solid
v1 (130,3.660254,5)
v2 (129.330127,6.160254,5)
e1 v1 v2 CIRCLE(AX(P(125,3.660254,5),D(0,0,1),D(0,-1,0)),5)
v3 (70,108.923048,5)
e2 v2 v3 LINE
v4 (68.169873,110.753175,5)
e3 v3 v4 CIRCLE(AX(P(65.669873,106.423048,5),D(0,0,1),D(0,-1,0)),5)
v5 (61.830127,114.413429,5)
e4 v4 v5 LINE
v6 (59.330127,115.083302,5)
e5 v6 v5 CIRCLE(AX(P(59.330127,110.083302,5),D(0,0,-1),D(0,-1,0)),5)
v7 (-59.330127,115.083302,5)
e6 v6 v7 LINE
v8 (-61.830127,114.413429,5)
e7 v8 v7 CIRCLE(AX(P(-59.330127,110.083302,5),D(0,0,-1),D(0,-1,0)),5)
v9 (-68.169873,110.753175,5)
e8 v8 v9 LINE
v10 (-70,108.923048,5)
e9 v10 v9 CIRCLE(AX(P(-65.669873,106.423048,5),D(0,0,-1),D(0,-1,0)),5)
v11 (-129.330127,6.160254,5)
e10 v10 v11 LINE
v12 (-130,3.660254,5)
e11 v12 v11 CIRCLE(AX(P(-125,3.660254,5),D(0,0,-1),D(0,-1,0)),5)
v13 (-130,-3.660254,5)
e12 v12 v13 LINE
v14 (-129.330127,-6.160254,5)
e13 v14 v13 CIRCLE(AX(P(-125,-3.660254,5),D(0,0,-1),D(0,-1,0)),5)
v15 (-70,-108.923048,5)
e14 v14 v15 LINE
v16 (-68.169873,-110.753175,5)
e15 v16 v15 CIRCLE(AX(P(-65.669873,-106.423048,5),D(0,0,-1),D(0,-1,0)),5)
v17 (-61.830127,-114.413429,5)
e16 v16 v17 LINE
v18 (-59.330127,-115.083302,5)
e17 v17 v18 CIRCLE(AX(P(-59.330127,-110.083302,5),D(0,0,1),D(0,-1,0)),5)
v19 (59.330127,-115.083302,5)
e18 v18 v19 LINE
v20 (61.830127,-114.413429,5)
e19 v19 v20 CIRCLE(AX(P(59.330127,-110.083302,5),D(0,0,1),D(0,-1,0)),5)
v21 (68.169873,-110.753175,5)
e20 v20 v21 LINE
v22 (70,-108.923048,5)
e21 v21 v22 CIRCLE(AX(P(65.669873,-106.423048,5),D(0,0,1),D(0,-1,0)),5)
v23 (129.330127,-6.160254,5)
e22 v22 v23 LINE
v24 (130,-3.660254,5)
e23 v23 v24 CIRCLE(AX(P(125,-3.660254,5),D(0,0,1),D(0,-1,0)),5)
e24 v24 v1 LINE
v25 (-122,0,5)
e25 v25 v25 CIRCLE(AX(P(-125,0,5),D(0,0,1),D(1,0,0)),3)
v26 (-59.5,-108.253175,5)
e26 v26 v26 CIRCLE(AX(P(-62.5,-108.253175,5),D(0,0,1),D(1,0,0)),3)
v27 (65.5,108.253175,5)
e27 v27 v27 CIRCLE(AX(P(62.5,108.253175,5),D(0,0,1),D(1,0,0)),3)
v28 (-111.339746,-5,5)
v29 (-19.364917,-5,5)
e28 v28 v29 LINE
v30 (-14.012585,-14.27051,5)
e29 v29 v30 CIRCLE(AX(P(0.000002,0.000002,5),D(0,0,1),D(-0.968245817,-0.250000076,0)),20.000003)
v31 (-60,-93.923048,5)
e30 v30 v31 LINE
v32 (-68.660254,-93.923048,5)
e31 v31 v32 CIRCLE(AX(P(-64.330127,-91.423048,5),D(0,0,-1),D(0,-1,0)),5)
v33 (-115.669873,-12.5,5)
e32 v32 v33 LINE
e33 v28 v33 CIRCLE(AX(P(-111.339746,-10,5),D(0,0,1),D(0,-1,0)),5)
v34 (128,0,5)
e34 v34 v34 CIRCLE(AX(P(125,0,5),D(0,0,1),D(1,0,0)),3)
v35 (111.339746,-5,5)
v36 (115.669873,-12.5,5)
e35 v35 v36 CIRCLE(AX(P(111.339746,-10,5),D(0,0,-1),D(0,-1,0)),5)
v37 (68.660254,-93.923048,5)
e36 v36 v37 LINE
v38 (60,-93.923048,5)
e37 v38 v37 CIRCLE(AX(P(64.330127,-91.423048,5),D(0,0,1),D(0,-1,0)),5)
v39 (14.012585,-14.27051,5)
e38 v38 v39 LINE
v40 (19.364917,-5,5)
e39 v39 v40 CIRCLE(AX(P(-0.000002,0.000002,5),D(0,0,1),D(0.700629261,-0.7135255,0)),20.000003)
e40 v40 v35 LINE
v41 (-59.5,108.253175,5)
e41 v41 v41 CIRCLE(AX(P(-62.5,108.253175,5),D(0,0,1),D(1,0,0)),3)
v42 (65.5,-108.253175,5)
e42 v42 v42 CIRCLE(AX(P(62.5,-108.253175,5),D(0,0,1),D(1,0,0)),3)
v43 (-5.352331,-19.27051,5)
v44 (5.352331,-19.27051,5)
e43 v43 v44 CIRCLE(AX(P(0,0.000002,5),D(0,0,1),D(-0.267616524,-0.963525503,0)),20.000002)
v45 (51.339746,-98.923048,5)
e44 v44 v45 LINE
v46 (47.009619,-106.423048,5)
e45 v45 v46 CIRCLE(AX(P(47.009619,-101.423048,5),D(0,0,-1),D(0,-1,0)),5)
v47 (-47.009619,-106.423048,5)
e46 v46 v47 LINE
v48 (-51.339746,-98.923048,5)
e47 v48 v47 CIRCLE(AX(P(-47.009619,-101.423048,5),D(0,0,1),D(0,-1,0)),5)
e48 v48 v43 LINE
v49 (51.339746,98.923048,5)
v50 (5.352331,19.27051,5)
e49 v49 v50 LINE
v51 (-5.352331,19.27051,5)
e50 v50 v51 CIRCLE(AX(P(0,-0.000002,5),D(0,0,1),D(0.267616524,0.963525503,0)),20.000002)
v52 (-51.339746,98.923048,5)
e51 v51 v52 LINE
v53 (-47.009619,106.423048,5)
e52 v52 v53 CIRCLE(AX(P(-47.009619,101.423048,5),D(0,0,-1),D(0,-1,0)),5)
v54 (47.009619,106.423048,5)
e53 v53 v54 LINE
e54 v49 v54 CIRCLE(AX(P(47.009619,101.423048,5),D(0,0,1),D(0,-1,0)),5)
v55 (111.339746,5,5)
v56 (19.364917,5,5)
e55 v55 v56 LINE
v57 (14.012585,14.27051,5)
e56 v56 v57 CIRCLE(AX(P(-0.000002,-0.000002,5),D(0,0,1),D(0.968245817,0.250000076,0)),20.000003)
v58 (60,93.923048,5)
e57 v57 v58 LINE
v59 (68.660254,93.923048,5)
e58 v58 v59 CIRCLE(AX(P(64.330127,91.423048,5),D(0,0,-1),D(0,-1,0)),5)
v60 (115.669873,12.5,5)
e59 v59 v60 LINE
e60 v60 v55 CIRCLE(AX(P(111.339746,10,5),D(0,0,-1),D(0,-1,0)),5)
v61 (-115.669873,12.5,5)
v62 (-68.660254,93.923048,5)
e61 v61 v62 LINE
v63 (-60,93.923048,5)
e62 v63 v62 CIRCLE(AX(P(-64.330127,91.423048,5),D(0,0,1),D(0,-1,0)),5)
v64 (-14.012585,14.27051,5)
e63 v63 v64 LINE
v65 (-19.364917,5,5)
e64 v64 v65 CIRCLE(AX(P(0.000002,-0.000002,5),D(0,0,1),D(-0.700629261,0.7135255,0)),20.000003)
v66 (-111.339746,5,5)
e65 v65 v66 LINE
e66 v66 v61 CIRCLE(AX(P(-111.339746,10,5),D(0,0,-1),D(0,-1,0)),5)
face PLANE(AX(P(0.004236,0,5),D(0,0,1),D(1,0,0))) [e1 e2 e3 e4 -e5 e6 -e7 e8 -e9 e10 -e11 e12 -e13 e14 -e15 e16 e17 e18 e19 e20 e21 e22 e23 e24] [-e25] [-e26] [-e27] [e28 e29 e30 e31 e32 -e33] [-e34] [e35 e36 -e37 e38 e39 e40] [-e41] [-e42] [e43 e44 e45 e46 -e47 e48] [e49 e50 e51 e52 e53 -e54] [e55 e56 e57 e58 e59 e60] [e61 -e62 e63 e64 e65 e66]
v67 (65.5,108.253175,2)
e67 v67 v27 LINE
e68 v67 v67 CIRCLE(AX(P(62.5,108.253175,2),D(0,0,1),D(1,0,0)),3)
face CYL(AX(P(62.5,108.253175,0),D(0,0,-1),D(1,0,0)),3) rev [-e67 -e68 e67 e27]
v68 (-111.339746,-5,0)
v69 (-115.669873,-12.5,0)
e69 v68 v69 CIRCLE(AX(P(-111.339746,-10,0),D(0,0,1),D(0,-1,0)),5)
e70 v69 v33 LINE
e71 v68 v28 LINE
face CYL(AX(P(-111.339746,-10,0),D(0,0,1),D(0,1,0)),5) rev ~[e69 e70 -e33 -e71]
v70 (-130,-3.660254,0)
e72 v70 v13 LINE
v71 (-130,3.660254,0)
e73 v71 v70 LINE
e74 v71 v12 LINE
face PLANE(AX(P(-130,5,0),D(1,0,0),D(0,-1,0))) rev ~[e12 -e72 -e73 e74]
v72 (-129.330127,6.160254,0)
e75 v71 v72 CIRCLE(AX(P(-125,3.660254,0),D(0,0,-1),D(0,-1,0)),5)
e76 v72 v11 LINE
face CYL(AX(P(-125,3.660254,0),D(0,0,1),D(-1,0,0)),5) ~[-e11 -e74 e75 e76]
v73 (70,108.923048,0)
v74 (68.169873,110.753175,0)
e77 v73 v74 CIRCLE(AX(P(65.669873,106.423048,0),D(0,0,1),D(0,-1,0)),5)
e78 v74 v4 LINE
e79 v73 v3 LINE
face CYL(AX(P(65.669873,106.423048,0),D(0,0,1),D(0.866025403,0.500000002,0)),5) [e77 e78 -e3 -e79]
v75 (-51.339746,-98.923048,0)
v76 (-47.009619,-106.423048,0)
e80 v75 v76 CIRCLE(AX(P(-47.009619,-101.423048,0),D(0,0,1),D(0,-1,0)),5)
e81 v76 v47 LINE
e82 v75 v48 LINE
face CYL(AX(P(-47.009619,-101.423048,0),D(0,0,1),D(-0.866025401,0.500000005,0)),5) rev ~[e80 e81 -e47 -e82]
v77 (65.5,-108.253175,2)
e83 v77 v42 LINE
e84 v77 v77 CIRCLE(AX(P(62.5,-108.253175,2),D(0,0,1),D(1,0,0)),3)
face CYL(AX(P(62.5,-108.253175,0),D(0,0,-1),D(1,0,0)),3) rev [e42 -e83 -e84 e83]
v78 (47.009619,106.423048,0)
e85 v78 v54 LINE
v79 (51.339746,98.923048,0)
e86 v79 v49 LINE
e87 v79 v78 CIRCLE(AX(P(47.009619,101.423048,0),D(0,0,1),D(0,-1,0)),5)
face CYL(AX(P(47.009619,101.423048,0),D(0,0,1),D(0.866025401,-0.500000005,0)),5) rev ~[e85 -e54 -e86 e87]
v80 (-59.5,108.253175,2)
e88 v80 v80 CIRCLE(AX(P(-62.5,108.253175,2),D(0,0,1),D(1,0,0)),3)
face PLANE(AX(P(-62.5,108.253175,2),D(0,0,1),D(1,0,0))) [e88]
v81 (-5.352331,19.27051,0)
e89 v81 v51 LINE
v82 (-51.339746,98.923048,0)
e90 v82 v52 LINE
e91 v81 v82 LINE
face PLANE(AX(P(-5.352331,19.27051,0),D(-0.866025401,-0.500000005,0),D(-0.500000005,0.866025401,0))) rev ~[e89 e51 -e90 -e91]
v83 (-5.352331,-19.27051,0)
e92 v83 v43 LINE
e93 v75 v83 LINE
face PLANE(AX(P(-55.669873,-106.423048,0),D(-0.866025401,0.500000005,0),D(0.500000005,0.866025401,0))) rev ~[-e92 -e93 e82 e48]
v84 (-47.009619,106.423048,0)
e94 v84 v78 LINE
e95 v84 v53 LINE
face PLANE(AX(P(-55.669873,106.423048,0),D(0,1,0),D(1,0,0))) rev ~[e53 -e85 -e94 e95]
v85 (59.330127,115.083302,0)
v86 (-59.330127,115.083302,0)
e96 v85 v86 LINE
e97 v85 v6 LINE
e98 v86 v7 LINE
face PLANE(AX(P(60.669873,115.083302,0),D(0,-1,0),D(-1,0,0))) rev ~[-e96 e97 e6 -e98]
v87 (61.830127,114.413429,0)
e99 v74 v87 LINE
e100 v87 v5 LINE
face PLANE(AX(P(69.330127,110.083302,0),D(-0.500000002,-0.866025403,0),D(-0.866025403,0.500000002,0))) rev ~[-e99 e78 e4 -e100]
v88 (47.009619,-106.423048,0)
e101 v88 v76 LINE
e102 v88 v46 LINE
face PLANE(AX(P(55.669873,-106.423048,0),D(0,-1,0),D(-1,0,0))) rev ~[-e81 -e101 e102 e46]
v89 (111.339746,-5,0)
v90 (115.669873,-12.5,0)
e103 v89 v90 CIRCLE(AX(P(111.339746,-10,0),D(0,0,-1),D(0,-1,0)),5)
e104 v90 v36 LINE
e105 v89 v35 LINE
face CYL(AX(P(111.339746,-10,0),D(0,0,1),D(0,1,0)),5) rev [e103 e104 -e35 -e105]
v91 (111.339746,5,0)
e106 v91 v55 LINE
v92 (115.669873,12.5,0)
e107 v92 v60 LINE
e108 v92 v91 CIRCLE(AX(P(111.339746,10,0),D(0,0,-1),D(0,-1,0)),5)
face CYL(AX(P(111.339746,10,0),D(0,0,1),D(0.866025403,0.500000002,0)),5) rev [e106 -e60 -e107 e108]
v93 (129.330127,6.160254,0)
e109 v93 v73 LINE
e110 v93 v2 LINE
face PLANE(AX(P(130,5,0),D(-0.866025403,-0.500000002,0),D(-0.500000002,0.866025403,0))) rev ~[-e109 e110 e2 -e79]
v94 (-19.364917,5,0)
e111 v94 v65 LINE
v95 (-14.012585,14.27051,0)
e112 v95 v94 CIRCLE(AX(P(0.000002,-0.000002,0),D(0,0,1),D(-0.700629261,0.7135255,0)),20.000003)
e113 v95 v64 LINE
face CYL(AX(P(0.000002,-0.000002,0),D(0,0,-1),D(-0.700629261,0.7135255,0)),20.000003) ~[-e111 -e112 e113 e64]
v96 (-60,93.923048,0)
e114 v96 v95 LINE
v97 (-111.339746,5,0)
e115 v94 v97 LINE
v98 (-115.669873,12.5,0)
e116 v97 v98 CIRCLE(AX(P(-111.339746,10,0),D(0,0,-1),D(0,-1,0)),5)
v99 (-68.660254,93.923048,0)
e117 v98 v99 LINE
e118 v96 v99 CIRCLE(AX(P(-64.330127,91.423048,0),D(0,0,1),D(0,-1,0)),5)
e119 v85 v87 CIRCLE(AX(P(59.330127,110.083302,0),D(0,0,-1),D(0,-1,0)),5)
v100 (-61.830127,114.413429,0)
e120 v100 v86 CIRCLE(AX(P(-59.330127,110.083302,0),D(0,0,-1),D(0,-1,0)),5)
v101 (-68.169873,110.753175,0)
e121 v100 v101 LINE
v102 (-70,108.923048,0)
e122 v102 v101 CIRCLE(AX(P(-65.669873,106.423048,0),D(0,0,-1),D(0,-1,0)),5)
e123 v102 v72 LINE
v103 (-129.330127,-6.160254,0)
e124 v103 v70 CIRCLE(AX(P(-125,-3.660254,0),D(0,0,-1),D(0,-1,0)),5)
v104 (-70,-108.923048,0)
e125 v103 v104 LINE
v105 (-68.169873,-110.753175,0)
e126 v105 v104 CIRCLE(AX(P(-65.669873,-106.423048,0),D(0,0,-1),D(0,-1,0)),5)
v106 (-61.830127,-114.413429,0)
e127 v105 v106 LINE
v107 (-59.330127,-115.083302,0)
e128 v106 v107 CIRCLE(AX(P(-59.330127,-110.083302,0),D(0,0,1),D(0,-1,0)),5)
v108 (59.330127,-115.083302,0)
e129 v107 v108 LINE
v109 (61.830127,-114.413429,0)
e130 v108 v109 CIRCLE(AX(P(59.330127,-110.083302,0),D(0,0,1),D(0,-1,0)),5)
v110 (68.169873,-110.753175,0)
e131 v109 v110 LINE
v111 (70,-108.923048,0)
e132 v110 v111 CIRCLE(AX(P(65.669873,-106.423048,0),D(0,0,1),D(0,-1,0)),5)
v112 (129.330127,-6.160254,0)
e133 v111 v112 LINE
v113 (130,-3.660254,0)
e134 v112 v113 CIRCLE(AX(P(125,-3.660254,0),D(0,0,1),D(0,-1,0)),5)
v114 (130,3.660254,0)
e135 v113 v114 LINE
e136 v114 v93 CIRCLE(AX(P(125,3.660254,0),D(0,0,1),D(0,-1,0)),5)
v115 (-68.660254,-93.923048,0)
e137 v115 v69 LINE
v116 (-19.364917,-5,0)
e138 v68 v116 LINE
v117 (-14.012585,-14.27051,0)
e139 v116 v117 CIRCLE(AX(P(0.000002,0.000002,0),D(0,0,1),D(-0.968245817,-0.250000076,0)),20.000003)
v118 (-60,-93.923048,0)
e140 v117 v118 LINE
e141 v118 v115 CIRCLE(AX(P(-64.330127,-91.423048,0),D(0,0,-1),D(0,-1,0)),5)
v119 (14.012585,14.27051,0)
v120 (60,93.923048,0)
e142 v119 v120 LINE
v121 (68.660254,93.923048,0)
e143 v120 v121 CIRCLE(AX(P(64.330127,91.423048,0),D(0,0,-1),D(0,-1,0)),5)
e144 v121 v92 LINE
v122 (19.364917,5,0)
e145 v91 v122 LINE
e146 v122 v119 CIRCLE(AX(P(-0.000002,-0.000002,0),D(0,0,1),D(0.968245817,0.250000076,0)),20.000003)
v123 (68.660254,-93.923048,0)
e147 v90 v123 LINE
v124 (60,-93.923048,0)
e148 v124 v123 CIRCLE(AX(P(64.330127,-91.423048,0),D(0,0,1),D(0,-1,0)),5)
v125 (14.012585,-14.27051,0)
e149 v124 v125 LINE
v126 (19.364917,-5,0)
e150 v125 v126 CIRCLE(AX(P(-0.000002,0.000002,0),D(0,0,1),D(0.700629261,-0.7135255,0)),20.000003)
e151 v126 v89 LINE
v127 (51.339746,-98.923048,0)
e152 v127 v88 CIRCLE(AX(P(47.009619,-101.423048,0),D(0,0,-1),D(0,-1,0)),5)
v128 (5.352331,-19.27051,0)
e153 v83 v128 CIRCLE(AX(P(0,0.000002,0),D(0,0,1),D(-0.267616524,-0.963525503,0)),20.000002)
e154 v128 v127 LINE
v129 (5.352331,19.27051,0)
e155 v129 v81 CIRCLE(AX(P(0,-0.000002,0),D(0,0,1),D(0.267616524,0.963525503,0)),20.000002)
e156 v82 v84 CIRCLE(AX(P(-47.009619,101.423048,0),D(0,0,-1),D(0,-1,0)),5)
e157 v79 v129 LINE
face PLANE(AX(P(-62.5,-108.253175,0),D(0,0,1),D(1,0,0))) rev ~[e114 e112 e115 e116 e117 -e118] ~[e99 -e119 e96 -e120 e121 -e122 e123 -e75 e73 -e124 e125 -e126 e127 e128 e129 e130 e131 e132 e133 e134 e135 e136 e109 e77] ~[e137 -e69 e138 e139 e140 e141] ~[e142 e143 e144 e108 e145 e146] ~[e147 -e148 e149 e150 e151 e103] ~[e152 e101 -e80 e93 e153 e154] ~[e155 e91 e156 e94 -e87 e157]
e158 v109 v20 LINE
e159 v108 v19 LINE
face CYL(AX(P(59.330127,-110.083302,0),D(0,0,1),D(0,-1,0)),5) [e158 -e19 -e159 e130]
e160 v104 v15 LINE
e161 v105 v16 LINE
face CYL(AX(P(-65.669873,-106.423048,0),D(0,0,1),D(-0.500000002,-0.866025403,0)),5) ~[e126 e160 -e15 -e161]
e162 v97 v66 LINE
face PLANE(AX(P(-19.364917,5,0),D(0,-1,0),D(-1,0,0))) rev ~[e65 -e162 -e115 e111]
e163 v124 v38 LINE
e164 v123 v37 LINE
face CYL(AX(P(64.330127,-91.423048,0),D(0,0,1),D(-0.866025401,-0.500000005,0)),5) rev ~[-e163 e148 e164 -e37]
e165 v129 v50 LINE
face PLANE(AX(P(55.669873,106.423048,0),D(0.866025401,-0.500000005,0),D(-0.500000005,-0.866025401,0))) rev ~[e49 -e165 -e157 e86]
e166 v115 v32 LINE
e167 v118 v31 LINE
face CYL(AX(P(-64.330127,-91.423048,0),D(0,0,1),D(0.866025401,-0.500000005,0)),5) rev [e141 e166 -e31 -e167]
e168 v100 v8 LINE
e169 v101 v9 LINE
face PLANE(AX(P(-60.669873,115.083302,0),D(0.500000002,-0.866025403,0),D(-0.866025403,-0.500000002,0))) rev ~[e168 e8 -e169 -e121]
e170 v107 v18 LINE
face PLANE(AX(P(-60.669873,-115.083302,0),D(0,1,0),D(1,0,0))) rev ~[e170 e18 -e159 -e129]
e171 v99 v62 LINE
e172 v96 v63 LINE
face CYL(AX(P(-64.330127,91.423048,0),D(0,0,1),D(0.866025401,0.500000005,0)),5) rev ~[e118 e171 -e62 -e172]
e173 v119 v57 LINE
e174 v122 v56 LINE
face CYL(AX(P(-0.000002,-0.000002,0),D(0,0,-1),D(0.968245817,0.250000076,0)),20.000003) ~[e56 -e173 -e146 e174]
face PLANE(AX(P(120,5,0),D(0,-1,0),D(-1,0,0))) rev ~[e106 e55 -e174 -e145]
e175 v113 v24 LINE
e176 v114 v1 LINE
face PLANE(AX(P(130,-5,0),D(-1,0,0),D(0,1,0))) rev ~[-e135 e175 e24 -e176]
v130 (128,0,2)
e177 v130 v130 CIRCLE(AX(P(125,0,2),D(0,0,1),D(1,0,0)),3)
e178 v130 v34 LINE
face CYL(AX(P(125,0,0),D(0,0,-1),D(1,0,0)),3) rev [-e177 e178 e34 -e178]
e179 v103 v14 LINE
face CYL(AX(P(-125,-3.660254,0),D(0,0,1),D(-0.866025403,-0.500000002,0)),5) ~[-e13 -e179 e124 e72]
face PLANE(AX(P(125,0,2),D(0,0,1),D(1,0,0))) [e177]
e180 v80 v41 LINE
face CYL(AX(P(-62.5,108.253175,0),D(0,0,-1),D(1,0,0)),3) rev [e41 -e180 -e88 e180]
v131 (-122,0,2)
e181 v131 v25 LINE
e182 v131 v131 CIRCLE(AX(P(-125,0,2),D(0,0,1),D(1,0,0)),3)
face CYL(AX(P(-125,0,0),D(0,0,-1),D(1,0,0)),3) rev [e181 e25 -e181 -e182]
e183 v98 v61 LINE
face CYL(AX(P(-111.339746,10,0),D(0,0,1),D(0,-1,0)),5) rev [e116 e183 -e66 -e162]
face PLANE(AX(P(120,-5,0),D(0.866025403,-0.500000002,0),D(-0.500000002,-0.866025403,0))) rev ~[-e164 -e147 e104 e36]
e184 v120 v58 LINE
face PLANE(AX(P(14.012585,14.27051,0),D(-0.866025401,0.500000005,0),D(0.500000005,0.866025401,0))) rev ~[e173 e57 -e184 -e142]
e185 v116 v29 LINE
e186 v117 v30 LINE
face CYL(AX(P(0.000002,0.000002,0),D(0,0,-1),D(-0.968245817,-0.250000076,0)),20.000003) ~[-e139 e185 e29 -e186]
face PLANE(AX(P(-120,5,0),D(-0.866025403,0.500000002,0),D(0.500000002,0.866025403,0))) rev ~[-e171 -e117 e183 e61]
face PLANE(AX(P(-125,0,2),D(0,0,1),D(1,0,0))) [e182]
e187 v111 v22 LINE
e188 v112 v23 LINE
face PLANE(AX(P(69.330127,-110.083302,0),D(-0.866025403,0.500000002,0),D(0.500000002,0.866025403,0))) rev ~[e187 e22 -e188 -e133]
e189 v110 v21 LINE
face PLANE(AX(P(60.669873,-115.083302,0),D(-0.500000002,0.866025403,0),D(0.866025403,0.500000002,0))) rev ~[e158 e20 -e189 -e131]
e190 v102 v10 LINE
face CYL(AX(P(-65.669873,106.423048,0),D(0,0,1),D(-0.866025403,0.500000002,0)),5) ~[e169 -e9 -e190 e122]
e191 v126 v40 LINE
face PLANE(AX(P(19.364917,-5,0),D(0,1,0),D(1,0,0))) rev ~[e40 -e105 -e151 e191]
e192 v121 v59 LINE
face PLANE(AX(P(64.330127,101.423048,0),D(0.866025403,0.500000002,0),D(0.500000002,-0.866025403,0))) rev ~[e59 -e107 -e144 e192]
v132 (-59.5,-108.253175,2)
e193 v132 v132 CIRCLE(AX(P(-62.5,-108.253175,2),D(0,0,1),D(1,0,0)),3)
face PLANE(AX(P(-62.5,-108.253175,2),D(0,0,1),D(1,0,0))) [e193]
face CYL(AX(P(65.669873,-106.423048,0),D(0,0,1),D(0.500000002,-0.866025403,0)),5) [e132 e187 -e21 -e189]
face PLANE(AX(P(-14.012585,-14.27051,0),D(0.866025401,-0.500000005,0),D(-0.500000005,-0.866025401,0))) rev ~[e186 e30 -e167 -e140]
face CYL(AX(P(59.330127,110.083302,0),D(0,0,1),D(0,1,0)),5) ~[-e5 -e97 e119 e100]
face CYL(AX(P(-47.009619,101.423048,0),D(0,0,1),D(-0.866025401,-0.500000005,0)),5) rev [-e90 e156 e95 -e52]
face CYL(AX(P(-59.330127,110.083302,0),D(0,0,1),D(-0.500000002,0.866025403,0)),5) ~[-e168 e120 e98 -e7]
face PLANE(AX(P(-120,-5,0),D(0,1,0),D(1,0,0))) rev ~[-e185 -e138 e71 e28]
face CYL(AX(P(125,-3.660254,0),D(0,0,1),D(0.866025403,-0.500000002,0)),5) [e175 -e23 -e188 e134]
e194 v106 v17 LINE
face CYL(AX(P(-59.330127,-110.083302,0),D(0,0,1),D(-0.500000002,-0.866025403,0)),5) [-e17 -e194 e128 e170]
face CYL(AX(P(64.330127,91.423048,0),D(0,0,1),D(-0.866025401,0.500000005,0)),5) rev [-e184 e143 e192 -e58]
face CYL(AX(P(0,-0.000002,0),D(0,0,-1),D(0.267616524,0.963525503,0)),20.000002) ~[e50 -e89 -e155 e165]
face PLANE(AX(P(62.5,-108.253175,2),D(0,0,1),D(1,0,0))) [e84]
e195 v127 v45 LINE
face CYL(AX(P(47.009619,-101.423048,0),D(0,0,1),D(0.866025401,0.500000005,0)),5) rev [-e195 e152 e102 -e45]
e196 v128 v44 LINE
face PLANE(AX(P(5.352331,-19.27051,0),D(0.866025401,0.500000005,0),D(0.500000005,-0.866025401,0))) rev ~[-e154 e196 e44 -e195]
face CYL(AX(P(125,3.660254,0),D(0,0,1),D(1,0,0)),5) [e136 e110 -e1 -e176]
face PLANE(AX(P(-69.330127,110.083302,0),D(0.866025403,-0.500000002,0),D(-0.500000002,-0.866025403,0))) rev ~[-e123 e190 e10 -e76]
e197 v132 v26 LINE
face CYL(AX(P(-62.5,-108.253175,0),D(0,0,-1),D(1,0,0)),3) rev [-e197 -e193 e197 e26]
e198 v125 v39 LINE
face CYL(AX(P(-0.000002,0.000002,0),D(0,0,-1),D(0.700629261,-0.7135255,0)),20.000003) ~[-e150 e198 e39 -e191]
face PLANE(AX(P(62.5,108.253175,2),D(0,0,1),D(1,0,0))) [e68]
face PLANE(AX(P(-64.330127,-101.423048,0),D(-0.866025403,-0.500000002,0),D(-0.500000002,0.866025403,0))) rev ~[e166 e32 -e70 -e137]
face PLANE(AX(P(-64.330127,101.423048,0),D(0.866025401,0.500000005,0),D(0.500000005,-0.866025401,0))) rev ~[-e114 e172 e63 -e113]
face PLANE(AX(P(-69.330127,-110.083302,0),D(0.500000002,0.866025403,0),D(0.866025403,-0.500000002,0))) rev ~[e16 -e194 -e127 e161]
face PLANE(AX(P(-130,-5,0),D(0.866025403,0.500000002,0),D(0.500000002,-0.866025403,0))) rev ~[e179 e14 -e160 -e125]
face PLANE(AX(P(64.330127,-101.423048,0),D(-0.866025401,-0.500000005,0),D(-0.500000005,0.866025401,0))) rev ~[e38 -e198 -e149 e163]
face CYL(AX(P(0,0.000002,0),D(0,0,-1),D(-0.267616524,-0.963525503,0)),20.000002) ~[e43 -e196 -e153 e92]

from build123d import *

# Parameters (mm, degrees)
F0_R      = 3
F1_DEPTH  = 5
F2_DEPTH  = 5
F3_R      = 5
F4_R      = 5
F5_DEPTH  = 2
F6_DEPTH  = 2
F7_DEPTH  = 2
F8_DEPTH  = 2
F9_DEPTH  = 2
F10_DEPTH = 2
F11_R     = 5


with BuildPart() as f1:
    # F0 (on Top) → F1 (new body)
    with BuildSketch(Plane.XY):
        Polygon((-60.669873, 115.083302), (-65, 112.583302), (-69.330127, 110.083302), (-130, 5), (-130, 0), (-130, -5), (-69.330127, -110.083302), (-65, -112.583302), (-60.669873, -115.083302), (60.669873, -115.083302), (65, -112.583302), (69.330127, -110.083302), (130, -5), (130, 0), (130, 5), (69.330127, 110.083302), (65, 112.583302), (60.669873, 115.083302), align=None)
        with Locations((-62.5, -108.253175)):
            Circle(F0_R, mode=Mode.SUBTRACT)
        with Locations((-125, 0)):
            Circle(F0_R, mode=Mode.SUBTRACT)
        with Locations((62.5, -108.253175)):
            Circle(F0_R, mode=Mode.SUBTRACT)
        Polygon((64.330127, 101.423048), (120, 5), (120, -5), (64.330127, -101.423048), (55.669873, -106.423048), (-55.669873, -106.423048), (-64.330127, -101.423048), (-120, -5), (-120, 5), (-64.330127, 101.423048), (-60, 103.923048), (-55.669873, 106.423048), (55.669873, 106.423048), (60, 103.923048), align=None, mode=Mode.SUBTRACT)
        with Locations((125, 0)):
            Circle(F0_R, mode=Mode.SUBTRACT)
        with Locations((-62.5, 108.253175)):
            Circle(F0_R, mode=Mode.SUBTRACT)
        with Locations((62.5, 108.253175)):
            Circle(F0_R, mode=Mode.SUBTRACT)
    extrude(amount=F1_DEPTH)

    # F0 (on Top) → F2 (join)
    with BuildSketch(Plane.XY):
        with BuildLine():
            ThreePointArc((19.364917, -5), (19.840594, -2.520086), (20, 0))
            ThreePointArc((20, 0), (19.840594, 2.520086), (19.364917, 5))
            ThreePointArc((19.364917, 5), (17.320508, 10), (14.012585, 14.27051))
            ThreePointArc((14.012585, 14.27051), (10, 17.320508), (5.352331, 19.27051))
            ThreePointArc((5.352331, 19.27051), (0, 20), (-5.352331, 19.27051))
            ThreePointArc((-5.352331, 19.27051), (-10, 17.320508), (-14.012585, 14.27051))
            ThreePointArc((-14.012585, 14.27051), (-17.320508, 10), (-19.364917, 5))
            ThreePointArc((-19.364917, 5), (-20, 0), (-19.364917, -5))
            ThreePointArc((-19.364917, -5), (-17.320508, -10), (-14.012585, -14.27051))
            ThreePointArc((-14.012585, -14.27051), (-10, -17.320508), (-5.352331, -19.27051))
            ThreePointArc((-5.352331, -19.27051), (0, -20), (5.352331, -19.27051))
            ThreePointArc((5.352331, -19.27051), (10, -17.320508), (14.012585, -14.27051))
            ThreePointArc((14.012585, -14.27051), (17.320508, -10), (19.364917, -5))
        make_face()
        with BuildLine():
            ThreePointArc((-19.364917, -5), (-20, 0), (-19.364917, 5))
            Line((-19.364917, 5), (-120, 5))
            Line((-120, 5), (-120, -5))
            Line((-120, -5), (-19.364917, -5))
        make_face()
        with BuildLine():
            ThreePointArc((-14.012585, 14.27051), (-10, 17.320508), (-5.352331, 19.27051))
            Line((-5.352331, 19.27051), (-55.669873, 106.423048))
            Line((-55.669873, 106.423048), (-60, 103.923048))
            Line((-60, 103.923048), (-64.330127, 101.423048))
            Line((-64.330127, 101.423048), (-14.012585, 14.27051))
        make_face()
        with BuildLine():
            ThreePointArc((5.352331, 19.27051), (10, 17.320508), (14.012585, 14.27051))
            Line((14.012585, 14.27051), (64.330127, 101.423048))
            Line((64.330127, 101.423048), (60, 103.923048))
            Line((60, 103.923048), (55.669873, 106.423048))
            Line((55.669873, 106.423048), (5.352331, 19.27051))
        make_face()
        with BuildLine():
            ThreePointArc((19.364917, 5), (19.840594, 2.520086), (20, 0))
            ThreePointArc((20, 0), (19.840594, -2.520086), (19.364917, -5))
            Line((19.364917, -5), (120, -5))
            Line((120, -5), (120, 5))
            Line((120, 5), (19.364917, 5))
        make_face()
        with BuildLine():
            Line((64.330127, -101.423048), (14.012585, -14.27051))
            ThreePointArc((14.012585, -14.27051), (10, -17.320508), (5.352331, -19.27051))
            Line((5.352331, -19.27051), (55.669873, -106.423048))
            Line((55.669873, -106.423048), (64.330127, -101.423048))
        make_face()
        with BuildLine():
            Line((-55.669873, -106.423048), (-5.352331, -19.27051))
            ThreePointArc((-5.352331, -19.27051), (-10, -17.320508), (-14.012585, -14.27051))
            Line((-14.012585, -14.27051), (-64.330127, -101.423048))
            Line((-64.330127, -101.423048), (-55.669873, -106.423048))
        make_face()
    extrude(amount=F2_DEPTH)

    # F3
    f3_edges = [f1.edges().sort_by_distance(p)[0] for p in [
        (-60.669873, -115.083302, 2.5),
    ]]
    fillet(f3_edges, radius=F3_R)

    # F4
    f4_edges = [f1.edges().sort_by_distance(p)[0] for p in [
        (-69.330127, -110.083302, 2.5),
        (60.669873, -115.083302, 2.5),
        (69.330127, -110.083302, 2.5),
        (130, -5, 2.5),
        (130, 5, 2.5),
        (69.330127, 110.083302, 2.5),
        (60.669873, 115.083302, 2.5),
        (-60.669873, 115.083302, 2.5),
        (-69.330127, 110.083302, 2.5),
        (-130, 5, 2.5),
        (-130, -5, 2.5),
    ]]
    fillet(f4_edges, radius=F4_R)

    # F0 (on Top) → F5 (join)
    with BuildSketch(Plane.XY):
        with Locations((-125, 0)):
            Circle(F0_R)
    extrude(amount=F5_DEPTH)

    # F0 (on Top) → F6 (join)
    with BuildSketch(Plane.XY):
        with Locations((-62.5, 108.253175)):
            Circle(F0_R)
    extrude(amount=F6_DEPTH)

    # F0 (on Top) → F7 (join)
    with BuildSketch(Plane.XY):
        with Locations((62.5, 108.253175)):
            Circle(F0_R)
    extrude(amount=F7_DEPTH)

    # F0 (on Top) → F8 (join)
    with BuildSketch(Plane.XY):
        with Locations((125, 0)):
            Circle(F0_R)
    extrude(amount=F8_DEPTH)

    # F0 (on Top) → F9 (join)
    with BuildSketch(Plane.XY):
        with Locations((62.5, -108.253175)):
            Circle(F0_R)
    extrude(amount=F9_DEPTH)

    # F0 (on Top) → F10 (join)
    with BuildSketch(Plane.XY):
        with Locations((-62.5, -108.253175)):
            Circle(F0_R)
    extrude(amount=F10_DEPTH)

    # F11
    f11_edges = [f1.edges().sort_by_distance(p)[0] for p in [
        (-64.330127, -101.423048, 2.5),
        (-120, -5, 2.5),
        (-120, 5, 2.5),
        (-64.330127, 101.423048, 2.5),
        (-55.669873, 106.423048, 2.5),
        (55.669873, 106.423048, 2.5),
        (64.330127, 101.423048, 2.5),
        (120, 5, 2.5),
        (120, -5, 2.5),
        (64.330127, -101.423048, 2.5),
        (55.669873, -106.423048, 2.5),
        (-55.669873, -106.423048, 2.5),
    ]]
    fillet(f11_edges, radius=F11_R)


solid = f1.part
